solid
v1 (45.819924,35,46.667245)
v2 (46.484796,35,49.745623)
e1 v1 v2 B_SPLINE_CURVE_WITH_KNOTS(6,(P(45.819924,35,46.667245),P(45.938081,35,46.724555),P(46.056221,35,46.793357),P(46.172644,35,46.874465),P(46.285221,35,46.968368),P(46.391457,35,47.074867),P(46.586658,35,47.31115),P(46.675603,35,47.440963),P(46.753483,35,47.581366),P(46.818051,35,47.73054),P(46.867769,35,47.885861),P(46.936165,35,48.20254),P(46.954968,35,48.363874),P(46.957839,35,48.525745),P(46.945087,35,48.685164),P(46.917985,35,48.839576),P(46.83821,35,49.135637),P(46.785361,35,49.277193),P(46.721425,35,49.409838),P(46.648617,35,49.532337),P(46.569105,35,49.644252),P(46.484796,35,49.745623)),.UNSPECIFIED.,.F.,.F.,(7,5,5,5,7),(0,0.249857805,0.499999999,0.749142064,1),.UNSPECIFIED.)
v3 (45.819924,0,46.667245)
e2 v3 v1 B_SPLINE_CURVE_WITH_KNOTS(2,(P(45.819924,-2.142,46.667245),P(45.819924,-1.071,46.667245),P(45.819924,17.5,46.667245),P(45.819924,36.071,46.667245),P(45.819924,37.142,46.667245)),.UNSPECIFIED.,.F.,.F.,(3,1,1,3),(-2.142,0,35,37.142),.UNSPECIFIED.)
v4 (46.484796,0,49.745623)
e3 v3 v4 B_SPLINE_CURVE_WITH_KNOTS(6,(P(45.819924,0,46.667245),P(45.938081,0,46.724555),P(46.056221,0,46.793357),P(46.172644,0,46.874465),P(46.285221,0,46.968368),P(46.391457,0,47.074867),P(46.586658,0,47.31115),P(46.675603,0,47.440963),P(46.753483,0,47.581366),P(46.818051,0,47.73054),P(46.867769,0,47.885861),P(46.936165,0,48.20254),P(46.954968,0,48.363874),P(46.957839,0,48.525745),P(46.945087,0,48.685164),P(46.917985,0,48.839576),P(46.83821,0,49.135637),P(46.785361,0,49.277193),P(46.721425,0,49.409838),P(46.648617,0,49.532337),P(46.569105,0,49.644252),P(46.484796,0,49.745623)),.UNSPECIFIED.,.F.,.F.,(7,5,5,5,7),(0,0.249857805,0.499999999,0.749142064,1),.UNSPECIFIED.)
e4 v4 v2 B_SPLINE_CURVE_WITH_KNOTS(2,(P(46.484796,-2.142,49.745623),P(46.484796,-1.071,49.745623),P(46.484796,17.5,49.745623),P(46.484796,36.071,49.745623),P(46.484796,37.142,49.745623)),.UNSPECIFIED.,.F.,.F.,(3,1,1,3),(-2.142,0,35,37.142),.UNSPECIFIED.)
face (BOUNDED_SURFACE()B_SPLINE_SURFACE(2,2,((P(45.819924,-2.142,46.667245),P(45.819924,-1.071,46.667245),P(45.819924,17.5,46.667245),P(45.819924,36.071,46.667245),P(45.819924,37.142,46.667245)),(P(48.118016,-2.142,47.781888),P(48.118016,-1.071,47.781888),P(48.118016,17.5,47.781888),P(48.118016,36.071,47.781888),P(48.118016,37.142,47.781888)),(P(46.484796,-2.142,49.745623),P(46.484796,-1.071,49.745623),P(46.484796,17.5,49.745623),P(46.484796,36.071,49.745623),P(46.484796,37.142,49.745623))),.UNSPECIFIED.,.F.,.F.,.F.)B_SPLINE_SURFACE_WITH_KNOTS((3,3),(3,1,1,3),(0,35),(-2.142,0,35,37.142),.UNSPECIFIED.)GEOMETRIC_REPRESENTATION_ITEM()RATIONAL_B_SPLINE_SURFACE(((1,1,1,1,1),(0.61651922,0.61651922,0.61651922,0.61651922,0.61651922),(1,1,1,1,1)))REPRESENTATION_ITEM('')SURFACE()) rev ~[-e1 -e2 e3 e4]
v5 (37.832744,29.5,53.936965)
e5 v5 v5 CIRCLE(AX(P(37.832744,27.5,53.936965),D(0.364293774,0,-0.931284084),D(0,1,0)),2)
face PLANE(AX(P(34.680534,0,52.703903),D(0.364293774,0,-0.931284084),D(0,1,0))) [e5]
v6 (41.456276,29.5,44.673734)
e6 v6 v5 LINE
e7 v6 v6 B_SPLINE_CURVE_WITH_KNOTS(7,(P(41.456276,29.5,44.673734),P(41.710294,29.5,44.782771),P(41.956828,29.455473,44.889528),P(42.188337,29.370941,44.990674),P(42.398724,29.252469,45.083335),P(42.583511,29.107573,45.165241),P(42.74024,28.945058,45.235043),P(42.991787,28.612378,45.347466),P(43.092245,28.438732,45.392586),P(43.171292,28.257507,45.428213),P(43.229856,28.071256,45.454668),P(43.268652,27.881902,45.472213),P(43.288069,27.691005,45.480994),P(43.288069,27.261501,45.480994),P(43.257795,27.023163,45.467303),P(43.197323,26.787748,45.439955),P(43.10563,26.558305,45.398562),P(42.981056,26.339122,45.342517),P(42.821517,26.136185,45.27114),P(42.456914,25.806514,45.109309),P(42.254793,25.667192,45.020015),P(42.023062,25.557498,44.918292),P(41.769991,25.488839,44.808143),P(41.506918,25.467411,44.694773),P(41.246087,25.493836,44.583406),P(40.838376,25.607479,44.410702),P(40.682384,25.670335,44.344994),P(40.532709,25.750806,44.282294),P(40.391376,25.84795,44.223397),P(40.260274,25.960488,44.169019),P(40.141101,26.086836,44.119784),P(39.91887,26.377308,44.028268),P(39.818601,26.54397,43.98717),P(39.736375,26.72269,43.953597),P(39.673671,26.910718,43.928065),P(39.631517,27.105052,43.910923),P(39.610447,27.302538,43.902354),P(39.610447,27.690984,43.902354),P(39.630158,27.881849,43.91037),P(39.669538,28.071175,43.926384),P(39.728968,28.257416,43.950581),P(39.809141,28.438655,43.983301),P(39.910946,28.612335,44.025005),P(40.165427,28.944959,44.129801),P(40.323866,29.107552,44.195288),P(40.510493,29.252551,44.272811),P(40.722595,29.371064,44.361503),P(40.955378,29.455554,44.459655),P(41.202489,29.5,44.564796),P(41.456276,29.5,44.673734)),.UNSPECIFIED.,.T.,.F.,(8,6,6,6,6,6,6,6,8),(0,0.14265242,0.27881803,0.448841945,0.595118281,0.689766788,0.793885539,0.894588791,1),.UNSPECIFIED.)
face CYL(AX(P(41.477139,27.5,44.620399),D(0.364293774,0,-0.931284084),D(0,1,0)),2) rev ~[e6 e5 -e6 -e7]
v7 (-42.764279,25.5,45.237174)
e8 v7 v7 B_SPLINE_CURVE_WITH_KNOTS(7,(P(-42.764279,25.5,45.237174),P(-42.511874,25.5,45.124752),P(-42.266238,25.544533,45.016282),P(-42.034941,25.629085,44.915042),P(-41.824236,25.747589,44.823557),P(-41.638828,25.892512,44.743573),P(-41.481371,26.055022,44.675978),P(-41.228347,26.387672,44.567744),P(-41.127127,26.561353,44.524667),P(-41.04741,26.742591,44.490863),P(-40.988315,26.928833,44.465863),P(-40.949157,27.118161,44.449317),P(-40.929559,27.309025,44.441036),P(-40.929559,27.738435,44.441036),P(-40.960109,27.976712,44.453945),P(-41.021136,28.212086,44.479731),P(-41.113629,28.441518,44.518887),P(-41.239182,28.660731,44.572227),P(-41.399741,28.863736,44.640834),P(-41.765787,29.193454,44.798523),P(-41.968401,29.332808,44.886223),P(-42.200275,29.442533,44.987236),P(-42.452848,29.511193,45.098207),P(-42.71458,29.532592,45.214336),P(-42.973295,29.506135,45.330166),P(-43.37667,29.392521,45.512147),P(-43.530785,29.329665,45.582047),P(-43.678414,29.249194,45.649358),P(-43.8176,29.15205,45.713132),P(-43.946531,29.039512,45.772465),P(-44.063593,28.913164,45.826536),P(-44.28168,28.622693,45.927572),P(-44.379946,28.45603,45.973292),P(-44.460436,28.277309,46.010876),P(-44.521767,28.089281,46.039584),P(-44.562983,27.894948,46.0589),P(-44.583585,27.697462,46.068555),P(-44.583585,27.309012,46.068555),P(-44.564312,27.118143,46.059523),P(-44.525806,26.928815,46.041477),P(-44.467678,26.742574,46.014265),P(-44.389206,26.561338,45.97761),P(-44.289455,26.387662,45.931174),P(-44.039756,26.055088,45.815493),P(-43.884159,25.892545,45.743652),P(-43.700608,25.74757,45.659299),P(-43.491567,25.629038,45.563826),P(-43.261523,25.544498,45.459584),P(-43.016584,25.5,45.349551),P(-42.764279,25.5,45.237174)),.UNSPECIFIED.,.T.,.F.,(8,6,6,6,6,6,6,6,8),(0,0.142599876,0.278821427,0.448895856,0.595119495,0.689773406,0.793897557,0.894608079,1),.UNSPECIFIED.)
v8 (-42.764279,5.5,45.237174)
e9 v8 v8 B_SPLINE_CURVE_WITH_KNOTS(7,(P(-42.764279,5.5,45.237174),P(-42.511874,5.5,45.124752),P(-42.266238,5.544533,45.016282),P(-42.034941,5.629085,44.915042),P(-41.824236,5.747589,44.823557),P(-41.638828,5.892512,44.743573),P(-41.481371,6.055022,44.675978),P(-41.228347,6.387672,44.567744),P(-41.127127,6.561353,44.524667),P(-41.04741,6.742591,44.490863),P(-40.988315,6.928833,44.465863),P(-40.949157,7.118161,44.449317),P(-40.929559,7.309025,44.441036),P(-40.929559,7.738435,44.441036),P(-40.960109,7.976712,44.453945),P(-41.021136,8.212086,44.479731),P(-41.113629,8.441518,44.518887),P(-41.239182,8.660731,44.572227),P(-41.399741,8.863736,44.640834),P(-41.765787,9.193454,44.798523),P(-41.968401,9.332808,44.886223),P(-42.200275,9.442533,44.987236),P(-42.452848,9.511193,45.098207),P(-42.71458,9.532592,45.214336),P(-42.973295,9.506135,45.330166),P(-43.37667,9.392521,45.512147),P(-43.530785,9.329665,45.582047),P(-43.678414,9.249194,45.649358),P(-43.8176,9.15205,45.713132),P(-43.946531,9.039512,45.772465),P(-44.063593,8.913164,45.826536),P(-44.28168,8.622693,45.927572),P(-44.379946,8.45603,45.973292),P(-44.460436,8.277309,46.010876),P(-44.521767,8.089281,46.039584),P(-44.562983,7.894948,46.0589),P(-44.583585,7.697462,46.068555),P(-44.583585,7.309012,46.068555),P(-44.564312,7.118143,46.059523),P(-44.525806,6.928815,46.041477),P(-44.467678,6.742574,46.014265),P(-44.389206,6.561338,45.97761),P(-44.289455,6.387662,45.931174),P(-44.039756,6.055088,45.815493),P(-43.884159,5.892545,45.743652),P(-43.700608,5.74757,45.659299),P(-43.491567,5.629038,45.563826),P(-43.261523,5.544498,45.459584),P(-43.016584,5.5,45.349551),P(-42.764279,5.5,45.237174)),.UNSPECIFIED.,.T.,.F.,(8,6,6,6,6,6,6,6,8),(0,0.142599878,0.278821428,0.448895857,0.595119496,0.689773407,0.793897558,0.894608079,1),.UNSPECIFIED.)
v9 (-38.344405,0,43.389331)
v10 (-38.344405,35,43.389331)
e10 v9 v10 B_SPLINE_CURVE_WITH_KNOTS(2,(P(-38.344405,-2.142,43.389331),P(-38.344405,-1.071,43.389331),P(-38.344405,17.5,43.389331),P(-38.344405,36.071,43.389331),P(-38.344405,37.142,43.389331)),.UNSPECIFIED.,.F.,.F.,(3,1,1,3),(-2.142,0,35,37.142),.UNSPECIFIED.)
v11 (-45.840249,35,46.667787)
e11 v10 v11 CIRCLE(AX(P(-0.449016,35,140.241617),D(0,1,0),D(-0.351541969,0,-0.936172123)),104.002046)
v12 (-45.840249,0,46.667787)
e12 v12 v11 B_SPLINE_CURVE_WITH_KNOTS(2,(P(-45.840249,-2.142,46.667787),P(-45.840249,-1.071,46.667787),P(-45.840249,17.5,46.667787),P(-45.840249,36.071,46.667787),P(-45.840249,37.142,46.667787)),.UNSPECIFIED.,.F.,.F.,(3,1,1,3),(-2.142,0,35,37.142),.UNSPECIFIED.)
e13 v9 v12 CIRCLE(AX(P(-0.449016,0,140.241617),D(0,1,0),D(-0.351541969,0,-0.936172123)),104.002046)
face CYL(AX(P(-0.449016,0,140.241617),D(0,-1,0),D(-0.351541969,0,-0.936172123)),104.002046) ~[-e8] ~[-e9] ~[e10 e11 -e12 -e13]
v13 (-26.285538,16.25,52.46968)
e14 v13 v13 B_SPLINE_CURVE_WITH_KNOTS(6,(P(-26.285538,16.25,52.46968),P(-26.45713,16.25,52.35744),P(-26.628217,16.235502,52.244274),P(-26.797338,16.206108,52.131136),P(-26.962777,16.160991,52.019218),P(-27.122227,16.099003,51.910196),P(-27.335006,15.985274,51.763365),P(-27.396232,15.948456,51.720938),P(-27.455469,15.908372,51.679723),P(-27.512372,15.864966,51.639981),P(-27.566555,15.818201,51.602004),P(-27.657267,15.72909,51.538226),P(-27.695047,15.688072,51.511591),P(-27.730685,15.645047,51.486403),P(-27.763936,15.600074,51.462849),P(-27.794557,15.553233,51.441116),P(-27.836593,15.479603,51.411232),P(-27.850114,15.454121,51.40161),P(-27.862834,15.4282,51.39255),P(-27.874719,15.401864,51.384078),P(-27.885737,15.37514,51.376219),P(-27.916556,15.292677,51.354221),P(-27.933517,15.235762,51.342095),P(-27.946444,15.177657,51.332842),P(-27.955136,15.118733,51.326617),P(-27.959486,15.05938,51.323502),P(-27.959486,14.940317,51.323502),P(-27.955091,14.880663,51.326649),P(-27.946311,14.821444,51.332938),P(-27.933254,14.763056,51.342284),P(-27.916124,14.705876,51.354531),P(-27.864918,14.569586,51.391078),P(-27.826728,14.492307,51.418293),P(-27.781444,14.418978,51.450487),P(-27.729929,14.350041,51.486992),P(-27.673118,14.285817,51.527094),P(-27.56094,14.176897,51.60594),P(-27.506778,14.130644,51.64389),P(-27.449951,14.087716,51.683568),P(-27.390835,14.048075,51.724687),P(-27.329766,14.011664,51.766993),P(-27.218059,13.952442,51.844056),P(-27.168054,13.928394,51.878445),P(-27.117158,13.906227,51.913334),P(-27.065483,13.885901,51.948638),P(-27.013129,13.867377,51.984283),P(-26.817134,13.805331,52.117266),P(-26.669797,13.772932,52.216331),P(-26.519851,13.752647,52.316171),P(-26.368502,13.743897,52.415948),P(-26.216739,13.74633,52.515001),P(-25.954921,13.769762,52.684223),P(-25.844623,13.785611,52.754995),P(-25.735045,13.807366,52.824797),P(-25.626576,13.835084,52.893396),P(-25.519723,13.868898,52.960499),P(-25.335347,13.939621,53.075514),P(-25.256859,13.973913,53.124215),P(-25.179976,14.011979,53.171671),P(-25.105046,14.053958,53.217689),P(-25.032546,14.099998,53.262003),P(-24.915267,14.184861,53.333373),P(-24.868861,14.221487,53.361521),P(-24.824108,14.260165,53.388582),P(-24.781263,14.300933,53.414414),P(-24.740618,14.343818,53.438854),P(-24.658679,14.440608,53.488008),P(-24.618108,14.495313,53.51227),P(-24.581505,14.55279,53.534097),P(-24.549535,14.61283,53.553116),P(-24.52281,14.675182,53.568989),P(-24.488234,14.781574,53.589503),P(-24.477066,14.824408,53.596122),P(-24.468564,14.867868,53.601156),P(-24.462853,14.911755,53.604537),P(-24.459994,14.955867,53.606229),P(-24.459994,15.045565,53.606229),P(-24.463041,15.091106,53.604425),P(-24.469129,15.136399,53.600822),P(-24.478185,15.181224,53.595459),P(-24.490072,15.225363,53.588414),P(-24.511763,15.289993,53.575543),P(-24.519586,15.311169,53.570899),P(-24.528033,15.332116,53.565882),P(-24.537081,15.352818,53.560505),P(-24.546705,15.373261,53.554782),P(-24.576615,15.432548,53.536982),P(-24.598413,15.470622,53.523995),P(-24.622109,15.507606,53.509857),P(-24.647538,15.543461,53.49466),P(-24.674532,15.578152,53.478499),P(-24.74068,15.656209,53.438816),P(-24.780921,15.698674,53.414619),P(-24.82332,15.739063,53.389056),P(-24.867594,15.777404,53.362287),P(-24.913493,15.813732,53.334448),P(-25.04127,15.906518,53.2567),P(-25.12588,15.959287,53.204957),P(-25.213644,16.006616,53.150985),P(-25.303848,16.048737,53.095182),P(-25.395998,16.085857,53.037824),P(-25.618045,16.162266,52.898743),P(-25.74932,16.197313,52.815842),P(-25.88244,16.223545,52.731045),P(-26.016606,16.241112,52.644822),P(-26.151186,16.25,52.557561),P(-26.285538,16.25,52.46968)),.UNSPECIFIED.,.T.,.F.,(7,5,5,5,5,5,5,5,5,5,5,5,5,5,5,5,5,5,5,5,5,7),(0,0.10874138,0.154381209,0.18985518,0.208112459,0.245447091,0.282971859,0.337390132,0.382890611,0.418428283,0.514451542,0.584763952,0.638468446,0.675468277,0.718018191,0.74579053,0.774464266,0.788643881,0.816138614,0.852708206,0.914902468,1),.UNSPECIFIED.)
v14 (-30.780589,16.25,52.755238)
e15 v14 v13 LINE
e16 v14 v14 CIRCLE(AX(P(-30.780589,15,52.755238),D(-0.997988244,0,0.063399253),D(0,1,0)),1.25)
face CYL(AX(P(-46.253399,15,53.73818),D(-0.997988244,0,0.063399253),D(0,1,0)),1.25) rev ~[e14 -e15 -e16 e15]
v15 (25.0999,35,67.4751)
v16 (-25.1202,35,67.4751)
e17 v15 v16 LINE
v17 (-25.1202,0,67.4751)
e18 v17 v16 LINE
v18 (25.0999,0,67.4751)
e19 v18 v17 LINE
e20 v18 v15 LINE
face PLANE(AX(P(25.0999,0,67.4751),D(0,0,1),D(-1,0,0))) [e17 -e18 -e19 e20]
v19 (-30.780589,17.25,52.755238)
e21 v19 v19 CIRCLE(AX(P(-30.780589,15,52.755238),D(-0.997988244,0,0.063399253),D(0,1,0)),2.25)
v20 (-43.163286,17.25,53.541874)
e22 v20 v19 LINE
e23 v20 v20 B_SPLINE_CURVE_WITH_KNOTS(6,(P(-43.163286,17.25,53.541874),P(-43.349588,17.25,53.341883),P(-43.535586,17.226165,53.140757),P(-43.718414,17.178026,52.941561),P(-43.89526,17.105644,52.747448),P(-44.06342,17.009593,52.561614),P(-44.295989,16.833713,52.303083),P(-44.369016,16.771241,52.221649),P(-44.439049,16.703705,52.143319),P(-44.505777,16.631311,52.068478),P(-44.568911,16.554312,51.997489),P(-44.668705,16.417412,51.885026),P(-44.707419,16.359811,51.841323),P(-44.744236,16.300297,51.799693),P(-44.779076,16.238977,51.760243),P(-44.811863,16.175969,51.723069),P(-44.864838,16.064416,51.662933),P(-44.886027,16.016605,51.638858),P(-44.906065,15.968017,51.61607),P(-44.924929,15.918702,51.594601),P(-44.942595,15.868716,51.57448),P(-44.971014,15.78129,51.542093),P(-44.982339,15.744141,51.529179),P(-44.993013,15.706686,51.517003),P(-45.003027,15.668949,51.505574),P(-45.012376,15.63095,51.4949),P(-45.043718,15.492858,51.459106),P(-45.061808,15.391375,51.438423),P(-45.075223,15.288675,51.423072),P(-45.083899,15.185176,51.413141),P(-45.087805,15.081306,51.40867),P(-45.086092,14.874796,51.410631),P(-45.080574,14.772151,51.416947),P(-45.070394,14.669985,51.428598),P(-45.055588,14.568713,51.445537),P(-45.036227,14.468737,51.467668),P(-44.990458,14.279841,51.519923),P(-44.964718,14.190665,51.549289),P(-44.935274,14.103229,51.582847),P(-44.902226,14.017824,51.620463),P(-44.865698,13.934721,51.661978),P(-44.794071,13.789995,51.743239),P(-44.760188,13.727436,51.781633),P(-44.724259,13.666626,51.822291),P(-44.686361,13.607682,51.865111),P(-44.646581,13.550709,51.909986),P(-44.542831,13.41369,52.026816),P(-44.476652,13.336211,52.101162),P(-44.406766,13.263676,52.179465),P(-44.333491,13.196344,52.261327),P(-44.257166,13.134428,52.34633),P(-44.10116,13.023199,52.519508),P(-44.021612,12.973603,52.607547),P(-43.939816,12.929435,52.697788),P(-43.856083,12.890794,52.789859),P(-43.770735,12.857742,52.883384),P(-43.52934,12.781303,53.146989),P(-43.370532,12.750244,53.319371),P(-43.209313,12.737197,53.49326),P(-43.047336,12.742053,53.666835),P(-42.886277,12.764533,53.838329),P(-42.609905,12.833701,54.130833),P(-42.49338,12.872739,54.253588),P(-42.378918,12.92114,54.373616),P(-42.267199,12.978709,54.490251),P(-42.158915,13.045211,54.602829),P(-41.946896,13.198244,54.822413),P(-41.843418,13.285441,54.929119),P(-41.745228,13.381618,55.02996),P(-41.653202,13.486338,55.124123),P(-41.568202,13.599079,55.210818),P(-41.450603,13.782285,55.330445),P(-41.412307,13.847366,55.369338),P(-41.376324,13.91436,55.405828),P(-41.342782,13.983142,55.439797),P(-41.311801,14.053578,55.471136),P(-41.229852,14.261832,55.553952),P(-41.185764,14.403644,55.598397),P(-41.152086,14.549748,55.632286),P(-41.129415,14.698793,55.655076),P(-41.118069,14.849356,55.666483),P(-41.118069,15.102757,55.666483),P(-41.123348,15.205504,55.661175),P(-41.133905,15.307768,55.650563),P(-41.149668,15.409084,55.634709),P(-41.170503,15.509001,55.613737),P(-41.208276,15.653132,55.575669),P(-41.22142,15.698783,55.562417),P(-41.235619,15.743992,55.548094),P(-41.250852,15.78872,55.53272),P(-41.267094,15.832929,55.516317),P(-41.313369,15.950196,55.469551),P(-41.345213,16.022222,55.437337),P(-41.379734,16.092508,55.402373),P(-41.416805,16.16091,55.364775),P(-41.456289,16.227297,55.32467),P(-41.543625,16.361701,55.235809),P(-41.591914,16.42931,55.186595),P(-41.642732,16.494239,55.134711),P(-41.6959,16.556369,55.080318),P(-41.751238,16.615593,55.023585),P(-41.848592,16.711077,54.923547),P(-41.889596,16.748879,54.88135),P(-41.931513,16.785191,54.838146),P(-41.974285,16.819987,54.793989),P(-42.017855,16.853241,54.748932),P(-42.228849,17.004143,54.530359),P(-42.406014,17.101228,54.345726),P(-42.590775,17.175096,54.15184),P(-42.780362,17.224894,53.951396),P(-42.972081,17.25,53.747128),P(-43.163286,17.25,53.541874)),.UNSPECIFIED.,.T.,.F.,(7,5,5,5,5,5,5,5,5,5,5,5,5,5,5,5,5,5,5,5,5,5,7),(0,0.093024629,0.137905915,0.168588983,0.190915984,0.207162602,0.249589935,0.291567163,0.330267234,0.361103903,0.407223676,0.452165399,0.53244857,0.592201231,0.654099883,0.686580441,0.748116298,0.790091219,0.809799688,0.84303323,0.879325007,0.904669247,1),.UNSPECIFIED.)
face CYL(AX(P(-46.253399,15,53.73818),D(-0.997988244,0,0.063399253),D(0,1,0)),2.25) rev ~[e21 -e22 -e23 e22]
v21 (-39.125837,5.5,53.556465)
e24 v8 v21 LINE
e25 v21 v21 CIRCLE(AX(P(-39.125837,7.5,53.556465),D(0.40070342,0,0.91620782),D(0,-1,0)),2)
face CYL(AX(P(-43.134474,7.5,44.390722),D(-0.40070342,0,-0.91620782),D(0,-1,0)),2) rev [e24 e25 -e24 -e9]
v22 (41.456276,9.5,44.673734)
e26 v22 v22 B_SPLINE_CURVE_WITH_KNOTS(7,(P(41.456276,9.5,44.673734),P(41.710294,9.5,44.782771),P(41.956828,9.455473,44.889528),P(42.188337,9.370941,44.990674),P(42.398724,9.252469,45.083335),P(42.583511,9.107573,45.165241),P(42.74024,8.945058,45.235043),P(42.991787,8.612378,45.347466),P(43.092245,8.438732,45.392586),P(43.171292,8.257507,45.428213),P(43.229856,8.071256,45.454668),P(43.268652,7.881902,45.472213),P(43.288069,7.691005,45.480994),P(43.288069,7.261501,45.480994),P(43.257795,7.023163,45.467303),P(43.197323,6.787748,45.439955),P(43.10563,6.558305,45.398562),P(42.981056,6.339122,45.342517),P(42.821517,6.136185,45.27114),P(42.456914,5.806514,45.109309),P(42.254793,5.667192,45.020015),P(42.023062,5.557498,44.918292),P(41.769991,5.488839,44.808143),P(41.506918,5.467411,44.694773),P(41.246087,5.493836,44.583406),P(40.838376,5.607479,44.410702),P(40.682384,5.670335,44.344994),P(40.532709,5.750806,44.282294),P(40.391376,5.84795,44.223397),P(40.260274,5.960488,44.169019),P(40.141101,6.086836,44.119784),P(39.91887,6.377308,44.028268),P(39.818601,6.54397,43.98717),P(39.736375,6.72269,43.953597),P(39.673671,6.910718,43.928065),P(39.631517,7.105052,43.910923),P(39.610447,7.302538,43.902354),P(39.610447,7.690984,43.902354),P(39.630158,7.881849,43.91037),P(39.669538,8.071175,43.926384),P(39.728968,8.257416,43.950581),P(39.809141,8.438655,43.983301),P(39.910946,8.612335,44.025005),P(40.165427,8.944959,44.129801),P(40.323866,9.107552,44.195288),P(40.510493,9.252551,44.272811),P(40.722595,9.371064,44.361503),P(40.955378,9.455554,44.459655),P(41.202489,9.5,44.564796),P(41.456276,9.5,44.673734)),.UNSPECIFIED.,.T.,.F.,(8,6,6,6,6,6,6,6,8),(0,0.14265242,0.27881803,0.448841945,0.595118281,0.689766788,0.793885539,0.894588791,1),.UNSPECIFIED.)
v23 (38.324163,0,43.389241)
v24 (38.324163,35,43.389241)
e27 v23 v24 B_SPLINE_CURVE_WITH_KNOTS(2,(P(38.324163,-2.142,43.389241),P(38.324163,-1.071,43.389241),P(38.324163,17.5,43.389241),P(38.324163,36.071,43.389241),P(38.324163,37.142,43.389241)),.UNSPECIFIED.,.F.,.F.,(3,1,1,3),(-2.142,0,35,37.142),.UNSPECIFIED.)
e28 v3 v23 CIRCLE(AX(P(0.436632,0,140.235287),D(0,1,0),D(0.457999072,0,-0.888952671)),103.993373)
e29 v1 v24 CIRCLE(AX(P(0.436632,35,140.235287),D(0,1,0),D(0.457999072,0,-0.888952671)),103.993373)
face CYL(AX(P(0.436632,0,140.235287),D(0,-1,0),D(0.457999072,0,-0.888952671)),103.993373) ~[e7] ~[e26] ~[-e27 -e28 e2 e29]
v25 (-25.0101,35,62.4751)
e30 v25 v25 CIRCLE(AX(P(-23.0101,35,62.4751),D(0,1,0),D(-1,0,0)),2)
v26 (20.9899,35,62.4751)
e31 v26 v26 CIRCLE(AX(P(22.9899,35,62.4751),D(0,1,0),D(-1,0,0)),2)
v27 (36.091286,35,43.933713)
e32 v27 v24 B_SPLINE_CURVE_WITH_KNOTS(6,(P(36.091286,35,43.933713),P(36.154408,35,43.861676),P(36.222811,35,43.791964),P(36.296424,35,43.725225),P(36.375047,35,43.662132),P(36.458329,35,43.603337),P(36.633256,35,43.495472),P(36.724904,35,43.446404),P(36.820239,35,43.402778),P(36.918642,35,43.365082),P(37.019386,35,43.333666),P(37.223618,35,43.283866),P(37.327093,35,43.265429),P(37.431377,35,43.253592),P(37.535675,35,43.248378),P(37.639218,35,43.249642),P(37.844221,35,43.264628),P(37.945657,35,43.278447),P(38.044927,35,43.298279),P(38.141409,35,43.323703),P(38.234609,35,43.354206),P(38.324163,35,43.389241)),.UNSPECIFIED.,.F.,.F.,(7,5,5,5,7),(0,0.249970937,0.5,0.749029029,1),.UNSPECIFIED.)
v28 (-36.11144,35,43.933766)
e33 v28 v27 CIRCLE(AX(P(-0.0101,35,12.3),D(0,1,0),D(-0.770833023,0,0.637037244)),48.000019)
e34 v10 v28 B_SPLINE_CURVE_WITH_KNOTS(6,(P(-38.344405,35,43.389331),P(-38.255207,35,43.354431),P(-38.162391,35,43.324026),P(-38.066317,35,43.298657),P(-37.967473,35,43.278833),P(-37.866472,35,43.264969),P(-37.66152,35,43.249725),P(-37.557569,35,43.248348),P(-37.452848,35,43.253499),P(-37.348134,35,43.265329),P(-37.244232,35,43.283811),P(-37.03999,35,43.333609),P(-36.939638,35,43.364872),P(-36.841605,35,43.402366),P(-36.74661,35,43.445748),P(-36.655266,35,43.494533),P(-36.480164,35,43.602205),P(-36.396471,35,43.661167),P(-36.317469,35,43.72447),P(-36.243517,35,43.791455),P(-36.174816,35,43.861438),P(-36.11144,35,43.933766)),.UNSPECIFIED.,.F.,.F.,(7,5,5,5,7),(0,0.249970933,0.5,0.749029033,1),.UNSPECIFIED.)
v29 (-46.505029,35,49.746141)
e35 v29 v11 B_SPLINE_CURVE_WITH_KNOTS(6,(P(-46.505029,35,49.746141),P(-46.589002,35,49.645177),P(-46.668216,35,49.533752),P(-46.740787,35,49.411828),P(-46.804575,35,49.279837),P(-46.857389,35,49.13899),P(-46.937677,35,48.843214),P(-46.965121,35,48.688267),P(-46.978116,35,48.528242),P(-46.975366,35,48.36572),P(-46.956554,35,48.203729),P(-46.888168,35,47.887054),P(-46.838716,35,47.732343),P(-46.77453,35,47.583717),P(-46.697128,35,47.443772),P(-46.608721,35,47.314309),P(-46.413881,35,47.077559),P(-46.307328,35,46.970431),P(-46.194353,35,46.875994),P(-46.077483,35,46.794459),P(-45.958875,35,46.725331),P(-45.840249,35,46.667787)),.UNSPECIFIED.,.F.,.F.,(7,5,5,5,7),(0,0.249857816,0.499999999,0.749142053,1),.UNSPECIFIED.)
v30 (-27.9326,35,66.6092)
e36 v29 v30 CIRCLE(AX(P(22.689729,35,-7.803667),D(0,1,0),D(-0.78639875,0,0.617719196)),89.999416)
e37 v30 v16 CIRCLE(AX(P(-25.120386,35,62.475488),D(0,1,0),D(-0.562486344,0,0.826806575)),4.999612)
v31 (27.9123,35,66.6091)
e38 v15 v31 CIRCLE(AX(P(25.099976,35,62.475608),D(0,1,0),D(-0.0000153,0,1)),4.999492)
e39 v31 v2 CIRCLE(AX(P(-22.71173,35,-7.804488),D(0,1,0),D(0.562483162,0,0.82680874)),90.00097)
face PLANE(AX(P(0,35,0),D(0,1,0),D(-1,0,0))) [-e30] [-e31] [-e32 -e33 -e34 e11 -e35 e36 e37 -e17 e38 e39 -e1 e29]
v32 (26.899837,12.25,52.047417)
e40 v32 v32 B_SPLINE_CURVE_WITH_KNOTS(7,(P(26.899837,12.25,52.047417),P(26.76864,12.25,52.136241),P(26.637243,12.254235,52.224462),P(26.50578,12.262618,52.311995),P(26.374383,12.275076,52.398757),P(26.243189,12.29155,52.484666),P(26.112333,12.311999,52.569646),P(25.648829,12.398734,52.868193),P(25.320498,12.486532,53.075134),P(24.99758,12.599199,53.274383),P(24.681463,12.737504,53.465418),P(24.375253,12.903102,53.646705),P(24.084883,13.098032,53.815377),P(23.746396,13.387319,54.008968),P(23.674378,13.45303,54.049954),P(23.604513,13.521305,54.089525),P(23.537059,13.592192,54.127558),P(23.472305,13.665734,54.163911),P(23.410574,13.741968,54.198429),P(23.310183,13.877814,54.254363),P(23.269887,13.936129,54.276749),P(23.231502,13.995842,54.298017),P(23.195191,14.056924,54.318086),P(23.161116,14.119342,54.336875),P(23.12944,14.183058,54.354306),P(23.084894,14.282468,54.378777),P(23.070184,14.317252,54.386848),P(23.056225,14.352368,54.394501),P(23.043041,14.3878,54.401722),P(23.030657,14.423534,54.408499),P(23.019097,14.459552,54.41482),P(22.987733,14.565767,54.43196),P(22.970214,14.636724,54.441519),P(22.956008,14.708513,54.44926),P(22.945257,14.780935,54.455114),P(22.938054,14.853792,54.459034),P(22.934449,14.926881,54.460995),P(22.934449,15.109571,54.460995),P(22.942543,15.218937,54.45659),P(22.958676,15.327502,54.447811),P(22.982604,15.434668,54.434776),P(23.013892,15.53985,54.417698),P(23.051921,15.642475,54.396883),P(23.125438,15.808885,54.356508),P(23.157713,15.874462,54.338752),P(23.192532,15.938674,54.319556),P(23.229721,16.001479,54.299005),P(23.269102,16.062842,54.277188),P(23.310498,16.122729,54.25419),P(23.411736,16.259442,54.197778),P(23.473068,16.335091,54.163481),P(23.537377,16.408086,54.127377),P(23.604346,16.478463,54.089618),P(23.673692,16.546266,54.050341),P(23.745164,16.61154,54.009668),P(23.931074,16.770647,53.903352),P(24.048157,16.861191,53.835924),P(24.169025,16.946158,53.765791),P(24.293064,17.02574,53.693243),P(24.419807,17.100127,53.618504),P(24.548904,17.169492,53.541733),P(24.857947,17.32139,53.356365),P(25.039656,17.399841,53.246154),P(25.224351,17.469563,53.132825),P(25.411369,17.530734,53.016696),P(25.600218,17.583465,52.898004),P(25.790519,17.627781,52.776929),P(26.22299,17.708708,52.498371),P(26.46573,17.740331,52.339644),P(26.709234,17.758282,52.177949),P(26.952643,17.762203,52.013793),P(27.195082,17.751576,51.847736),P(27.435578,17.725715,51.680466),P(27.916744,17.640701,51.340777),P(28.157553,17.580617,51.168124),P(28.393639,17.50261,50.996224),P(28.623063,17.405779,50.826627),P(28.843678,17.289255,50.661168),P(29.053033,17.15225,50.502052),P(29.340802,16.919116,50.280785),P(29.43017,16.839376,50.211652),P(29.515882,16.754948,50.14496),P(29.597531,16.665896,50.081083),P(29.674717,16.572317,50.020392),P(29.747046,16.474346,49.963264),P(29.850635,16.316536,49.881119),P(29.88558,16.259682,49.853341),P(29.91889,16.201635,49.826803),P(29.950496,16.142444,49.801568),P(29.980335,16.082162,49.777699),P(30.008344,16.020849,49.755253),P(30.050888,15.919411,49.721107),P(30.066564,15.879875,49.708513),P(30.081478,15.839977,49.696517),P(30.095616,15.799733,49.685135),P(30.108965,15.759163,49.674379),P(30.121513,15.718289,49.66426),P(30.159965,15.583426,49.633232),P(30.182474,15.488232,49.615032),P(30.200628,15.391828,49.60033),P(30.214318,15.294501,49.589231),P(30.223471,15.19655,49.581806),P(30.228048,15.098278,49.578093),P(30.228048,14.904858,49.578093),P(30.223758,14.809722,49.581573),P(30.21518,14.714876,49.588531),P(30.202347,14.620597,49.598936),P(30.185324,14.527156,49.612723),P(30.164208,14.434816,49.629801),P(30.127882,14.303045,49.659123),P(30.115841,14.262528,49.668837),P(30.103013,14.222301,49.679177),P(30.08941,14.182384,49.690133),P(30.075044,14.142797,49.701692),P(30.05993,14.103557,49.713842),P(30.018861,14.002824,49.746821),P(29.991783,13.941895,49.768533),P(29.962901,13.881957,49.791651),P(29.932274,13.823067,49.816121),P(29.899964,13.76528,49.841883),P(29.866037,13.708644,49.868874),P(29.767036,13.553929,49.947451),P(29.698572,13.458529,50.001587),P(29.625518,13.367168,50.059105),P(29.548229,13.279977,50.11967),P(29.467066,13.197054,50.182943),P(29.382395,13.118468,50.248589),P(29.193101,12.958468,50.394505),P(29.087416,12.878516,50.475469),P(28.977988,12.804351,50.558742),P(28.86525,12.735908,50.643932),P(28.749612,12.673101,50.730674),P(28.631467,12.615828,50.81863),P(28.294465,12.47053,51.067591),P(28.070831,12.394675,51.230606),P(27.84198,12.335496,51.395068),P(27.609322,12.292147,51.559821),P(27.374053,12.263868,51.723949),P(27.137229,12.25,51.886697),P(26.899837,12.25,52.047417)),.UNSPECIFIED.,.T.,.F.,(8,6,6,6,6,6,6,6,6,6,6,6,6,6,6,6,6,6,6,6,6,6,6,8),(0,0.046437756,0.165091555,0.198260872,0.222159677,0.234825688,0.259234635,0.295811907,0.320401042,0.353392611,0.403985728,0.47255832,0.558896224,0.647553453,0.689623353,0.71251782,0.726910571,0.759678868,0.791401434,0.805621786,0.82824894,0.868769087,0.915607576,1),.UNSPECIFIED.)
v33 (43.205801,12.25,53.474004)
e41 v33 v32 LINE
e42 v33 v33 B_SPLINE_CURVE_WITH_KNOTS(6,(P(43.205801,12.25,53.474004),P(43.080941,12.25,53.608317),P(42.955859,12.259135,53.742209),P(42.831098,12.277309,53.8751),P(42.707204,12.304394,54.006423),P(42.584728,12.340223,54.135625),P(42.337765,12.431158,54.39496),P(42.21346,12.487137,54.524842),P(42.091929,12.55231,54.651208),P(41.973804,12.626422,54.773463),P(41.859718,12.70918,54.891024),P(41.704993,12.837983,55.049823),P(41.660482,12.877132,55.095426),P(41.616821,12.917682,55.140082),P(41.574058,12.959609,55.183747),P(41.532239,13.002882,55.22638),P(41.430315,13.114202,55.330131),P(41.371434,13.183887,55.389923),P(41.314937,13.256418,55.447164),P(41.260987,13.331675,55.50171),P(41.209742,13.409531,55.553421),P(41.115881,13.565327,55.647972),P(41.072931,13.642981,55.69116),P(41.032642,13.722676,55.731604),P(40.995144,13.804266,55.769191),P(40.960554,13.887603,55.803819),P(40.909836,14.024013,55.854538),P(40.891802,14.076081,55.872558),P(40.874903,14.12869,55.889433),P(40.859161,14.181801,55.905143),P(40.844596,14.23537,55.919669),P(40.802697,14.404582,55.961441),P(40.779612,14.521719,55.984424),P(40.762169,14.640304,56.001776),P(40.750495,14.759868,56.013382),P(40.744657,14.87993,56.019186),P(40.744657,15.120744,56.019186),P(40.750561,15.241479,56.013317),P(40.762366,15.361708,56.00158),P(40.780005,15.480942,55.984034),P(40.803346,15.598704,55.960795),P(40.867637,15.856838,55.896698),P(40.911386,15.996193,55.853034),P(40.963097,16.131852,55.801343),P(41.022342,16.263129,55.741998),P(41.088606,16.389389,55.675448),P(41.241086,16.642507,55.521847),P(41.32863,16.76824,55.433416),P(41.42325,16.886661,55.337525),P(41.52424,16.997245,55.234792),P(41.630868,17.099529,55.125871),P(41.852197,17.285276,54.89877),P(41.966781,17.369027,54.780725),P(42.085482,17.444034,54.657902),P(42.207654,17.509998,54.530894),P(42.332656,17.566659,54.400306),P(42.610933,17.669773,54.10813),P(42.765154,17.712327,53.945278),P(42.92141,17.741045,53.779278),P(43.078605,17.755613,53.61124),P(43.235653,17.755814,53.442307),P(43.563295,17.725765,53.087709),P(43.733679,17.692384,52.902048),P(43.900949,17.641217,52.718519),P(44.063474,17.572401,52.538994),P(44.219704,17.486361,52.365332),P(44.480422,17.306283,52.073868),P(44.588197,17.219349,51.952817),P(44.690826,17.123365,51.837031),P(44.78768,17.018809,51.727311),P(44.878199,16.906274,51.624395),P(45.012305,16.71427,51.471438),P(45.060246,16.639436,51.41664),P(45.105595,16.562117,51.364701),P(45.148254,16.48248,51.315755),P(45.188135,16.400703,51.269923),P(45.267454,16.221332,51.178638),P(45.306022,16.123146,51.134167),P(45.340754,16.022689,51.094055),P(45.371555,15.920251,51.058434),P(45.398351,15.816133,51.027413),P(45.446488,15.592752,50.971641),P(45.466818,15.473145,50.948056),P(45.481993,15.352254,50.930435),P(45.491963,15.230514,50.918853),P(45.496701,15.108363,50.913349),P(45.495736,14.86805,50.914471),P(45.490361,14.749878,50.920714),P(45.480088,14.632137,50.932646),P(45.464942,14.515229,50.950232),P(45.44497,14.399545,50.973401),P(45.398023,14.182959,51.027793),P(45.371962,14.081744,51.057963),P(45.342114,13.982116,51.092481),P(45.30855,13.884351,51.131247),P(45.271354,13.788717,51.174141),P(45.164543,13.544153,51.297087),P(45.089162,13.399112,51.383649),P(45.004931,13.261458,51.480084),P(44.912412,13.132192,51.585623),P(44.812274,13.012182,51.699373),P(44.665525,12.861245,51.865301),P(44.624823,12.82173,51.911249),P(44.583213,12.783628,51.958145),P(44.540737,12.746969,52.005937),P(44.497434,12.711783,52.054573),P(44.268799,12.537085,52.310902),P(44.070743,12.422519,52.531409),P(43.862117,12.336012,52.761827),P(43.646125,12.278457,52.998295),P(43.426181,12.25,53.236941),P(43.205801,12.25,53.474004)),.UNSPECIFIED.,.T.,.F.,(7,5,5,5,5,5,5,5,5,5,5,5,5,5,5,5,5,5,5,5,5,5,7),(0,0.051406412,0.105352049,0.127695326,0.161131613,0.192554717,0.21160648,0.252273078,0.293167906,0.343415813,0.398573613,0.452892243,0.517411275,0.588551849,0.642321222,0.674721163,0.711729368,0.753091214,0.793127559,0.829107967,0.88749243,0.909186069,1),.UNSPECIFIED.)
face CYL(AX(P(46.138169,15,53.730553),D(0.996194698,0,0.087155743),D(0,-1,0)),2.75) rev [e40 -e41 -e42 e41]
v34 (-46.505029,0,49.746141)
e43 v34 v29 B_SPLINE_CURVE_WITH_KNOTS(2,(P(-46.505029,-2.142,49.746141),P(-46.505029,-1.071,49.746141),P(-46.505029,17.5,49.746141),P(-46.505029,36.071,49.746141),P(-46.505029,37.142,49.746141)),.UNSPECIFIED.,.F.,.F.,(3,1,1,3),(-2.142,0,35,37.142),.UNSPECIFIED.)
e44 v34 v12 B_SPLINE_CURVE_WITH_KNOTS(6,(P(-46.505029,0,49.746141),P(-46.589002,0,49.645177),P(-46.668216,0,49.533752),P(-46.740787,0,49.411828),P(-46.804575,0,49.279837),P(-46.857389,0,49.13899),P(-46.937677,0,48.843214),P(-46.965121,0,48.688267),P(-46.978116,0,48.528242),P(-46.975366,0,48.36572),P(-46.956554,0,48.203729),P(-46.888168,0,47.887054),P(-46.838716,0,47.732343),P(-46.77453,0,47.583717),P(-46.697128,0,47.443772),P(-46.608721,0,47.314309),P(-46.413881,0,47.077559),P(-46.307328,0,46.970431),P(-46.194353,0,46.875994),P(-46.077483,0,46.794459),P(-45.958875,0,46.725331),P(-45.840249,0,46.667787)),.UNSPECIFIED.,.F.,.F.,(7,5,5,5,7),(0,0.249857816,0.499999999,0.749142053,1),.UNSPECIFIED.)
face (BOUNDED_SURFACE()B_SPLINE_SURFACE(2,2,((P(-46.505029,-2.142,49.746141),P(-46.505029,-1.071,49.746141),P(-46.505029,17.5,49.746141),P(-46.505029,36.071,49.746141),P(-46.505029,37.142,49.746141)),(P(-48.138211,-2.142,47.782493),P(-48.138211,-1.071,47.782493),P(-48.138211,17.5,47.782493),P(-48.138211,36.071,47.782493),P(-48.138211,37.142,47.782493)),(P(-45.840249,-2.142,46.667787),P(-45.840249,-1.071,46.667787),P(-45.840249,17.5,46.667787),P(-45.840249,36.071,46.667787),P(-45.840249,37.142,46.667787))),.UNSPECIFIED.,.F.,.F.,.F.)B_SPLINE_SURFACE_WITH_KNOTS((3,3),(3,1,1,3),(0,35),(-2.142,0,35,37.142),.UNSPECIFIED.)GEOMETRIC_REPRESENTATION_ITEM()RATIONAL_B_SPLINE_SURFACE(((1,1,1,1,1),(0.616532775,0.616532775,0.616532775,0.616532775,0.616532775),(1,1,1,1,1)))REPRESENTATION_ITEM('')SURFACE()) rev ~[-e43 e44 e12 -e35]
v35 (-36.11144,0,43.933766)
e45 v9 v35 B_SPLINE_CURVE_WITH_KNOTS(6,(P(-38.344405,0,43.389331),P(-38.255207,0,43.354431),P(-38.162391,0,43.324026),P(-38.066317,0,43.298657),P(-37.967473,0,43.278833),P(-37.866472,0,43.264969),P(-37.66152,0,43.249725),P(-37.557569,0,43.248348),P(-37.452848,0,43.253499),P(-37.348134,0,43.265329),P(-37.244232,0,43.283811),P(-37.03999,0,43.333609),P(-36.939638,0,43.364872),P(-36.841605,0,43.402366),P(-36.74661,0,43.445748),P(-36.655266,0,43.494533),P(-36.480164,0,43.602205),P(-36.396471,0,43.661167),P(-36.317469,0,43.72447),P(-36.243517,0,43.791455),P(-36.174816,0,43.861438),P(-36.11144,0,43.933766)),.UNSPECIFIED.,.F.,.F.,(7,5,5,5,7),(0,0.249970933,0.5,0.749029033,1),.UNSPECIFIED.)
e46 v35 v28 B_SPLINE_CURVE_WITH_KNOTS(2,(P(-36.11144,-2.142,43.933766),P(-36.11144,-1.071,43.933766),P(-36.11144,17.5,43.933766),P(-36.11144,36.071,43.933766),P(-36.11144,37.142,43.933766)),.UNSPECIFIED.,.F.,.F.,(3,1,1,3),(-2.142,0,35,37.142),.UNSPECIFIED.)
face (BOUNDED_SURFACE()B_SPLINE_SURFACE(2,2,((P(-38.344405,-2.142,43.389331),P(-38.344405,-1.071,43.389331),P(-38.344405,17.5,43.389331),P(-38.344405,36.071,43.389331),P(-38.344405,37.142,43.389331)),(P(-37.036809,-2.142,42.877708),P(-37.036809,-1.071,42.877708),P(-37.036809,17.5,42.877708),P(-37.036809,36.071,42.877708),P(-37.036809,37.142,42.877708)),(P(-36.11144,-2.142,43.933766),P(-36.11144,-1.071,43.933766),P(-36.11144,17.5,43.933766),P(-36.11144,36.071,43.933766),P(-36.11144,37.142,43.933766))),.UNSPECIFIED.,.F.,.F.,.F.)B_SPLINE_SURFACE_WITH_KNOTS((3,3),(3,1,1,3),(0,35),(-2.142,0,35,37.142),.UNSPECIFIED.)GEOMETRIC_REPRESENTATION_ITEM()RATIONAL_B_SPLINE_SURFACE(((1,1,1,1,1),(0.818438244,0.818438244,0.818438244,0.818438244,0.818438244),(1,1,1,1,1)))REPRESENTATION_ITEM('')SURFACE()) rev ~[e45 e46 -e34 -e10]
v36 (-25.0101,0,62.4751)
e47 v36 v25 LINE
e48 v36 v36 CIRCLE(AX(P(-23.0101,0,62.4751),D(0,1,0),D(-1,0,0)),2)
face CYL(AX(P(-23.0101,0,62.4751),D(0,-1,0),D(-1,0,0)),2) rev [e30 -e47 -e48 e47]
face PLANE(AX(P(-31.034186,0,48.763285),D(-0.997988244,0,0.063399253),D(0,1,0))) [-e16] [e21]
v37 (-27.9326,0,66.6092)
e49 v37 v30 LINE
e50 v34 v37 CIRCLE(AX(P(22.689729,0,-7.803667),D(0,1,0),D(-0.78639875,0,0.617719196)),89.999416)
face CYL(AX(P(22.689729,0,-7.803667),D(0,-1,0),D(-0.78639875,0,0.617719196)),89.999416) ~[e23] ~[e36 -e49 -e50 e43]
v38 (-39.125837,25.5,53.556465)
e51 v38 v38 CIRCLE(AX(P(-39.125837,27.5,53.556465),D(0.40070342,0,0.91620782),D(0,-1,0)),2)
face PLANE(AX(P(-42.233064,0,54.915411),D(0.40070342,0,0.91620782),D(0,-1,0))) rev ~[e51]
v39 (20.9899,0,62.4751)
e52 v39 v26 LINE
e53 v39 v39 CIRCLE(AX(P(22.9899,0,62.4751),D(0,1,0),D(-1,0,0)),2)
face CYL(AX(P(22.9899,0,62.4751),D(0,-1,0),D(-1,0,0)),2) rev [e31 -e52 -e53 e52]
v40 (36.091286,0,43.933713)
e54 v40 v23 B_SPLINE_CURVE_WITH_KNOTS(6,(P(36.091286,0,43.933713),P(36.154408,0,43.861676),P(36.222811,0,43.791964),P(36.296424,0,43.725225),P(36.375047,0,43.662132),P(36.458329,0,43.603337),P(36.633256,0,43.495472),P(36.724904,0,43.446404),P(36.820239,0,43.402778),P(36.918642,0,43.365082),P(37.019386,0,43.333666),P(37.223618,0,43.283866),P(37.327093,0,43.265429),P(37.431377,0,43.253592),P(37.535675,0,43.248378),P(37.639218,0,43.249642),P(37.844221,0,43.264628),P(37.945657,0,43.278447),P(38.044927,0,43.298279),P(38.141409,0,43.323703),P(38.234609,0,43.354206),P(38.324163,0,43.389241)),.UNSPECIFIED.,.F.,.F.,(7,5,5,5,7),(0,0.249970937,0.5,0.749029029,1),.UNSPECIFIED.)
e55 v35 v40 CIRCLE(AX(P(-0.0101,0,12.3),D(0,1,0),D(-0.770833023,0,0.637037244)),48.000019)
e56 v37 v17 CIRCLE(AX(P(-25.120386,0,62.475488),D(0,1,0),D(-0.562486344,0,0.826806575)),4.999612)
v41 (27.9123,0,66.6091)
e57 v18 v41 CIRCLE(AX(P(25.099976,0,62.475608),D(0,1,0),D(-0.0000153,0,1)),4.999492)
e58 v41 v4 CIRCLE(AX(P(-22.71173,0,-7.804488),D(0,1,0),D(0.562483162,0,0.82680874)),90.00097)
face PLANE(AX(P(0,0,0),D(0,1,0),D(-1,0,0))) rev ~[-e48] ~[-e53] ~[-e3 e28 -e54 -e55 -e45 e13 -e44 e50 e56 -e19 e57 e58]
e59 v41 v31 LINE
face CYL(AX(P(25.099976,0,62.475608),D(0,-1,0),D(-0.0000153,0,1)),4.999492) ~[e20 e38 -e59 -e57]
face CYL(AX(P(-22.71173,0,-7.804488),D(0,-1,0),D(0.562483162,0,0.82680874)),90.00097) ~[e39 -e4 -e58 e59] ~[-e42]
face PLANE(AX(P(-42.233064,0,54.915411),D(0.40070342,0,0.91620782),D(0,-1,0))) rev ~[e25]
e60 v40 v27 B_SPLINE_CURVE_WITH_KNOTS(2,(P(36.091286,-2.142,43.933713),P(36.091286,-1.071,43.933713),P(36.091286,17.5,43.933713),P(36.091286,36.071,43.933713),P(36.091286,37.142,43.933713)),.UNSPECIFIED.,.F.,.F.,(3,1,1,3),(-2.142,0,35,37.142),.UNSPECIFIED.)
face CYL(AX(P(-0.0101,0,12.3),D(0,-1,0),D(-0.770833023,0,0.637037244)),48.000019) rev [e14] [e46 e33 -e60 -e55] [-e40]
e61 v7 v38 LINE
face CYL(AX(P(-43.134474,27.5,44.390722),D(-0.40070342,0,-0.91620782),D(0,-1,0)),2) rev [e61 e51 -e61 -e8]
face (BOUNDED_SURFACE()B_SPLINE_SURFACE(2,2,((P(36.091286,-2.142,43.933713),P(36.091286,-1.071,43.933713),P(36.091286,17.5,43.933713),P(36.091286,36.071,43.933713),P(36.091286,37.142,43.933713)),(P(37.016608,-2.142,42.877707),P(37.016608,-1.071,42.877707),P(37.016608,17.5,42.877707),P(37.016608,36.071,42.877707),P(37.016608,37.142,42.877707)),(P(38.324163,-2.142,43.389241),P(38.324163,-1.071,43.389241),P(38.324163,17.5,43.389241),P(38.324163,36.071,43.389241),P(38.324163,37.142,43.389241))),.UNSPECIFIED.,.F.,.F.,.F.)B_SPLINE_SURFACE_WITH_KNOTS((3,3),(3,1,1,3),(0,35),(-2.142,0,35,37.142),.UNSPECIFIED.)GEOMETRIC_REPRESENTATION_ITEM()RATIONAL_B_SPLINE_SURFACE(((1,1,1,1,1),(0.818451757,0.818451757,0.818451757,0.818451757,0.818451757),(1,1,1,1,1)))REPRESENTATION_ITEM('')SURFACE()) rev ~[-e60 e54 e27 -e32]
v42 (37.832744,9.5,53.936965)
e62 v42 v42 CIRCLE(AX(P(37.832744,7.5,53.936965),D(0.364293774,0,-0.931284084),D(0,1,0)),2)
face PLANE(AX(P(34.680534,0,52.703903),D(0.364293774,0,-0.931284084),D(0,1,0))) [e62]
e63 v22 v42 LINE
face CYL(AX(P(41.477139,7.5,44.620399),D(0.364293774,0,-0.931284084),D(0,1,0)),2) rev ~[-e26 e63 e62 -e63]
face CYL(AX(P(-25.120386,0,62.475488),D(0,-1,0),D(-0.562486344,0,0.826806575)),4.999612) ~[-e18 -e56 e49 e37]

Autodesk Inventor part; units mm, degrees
sketch "Эскиз1" plane through (0, 0, 0) normal (0, 1, 0) x (-1, 0, 0)
  line L0 (-25.0999, 67.4751) -> (25.1202, 67.4751)
  arc A0 (37.0101, 42.8778) -> (-36.9899, 42.8778) centre (0.0101, 12.3) ccw
  arc A1 (36.6633, -21.4663) -> (-36.0003, -21.4663) centre (0.3315, -28.4663) ccw
  line L1 (36.6633, -21.4663) -> (-36.0003, -21.4663)
  circle A2 centre (23.0101, 62.4751) radius 2
  arc A3 (37.0101, 42.8778) -> (48.0857, 47.7907) centre (0.4498, 140.2397) ccw
  circle A4 centre (-22.9899, 62.4751) radius 2
  arc A5 (-48.0655, 47.7901) -> (-36.9899, 42.8778) centre (-0.4338, 140.2412) ccw
  arc A6 (-27.9123, 66.6091) -> (-48.0655, 47.7901) centre (22.7111, -7.8037) ccw
  arc A7 (48.0857, 47.7907) -> (27.9326, 66.6092) centre (-22.6902, -7.8041) ccw
  arc A8 (27.9326, 66.6092) -> (25.1202, 67.4751) centre (25.1202, 62.4751) ccw
  arc A9 (-25.0999, 67.4751) -> (-27.9123, 66.6091) centre (-25.0999, 62.4751) ccw
  line L2 (37.0101, 42.8778) -> (-36.9899, 42.8778)
  point P0 (0, 0)
  point P1 (0, 0)
  point P2 (-26.6154, 67.4751)
  point P3 (0.0101, 60.3)
  point P4 (0.0102, 67.4751)
  point P5 (0, 0)
  point P6 (26.6357, 67.4751)
  point P7 (-26.5712, 67.2537)
  point P8 (26.5916, 67.2537)
  dimension "d0" = 72.6636
  dimension "d1" = 37
  dimension "d2" = 11.0756
  dimension "d3" = 7.1751
  dimension "d4" = 5
  dimension "d5" = 5
  dimension "d6" = 90
  dimension "d7" = 90
  dimension "d8" = 5
  dimension "d95" = 23
  dimension "d96" = 23
  dimension "d97" = 48
  dimension "d98" = 11.0756
  dimension "d105" = 74
  dimension "d107" = 4
  dimension "d108" = 4
extrude "Выдавливание1" add sketch "Эскиз1" along normal blind 35 contours L0 A8 A7 A3 A0 A5 A6 A9
fillet "Сопряжение2" radius 2 4 edges at (48.0655, 17.5, 47.7901) (36.9899, 17.5, 42.8778) (-37.0101, 17.5, 42.8778) (-48.0857, 17.5, 47.7907)
ref_plane "РабПлоскость4" through (38.3242, 0, 43.3892) normal (0.3643, 0, -0.9313) x (0, 1, 0)
sketch "Эскиз9" plane through (38.3242, 0, 43.3892) normal (0.3643, 0, -0.9313) x (0, 1, 0)
  circle A0 centre (27.5, 3.3848) radius 2
  circle A1 centre (7.5, 3.3848) radius 2
  line L0 (35, 0) -> (35, 8.1748) projected
  line L1 (0, 8.1748) -> (35, 8.1748) projected
  point P0 (0, -51.4982)
  dimension "d49" = 4
  dimension "d50" = 4
  dimension "d51" = 20
  dimension "d52" = 7.5
  dimension "d53" = 4.79
  dimension "d54" = 4.79
extrude "Выдавливание6" cut sketch "Эскиз9" against normal blind 10
ref_plane "РабПлоскость9" through (-46.2409, 0, 45.7515) normal (0.4007, 0, 0.9162) x (0, -1, 0)
ref_plane "РабПлоскость8" through (-45.8402, 0, 46.6678) normal (0.4007, 0, 0.9162) x (0, -1, 0)
sketch "Эскиз12" plane through (-46.2409, 0, 45.7515) normal (0.4007, 0, 0.9162) x (0, -1, 0)
  circle A0 centre (-27.5, 3.3914) radius 2
  circle A1 centre (-7.5, 3.3914) radius 2
  line L0 (0, 8.1814) -> (-35, 8.1814) projected
  line L1 (-35, 8.1814) -> (-35, 0) projected
  point P0 (0, 60.6995)
  dimension "d66" = 4
  dimension "d67" = 4
  dimension "d68" = 20
  dimension "d69" = 4.79
  dimension "d70" = 4.79
  dimension "d71" = 7.5
extrude "Выдавливание8" cut sketch "Эскиз12" along normal blind 10
ref_plane "РабПлоскость12" through (46.4848, 0, 49.7456) normal (-0.9962, 0, -0.0872) x (0, -1, 0)
sketch "Эскиз14" plane through (46.4848, 0, 49.7456) normal (-0.9962, 0, -0.0872) x (0, -1, 0)
  circle A0 centre (-15, 4) radius 2.75
  line L0 (0, 18.418) -> (0, 0) projected
  line L1 (-35, 0) -> (0, 0) projected
  point P0 (0, -45.5049)
  dimension "d78" = 5.5
  dimension "d79" = 15
  dimension "d80" = 4
extrude "Выдавливание9" cut sketch "Эскиз14" along normal blind 43.25
ref_plane "РабПлоскость13" through (-46.505, 0, 49.7461) normal (-0.998, 0, 0.0634) x (0, 1, 0)
sketch "Эскиз16" plane through (-46.505, 0, 49.7461) normal (-0.998, 0, 0.0634) x (0, 1, 0)
  circle A0 centre (15, -4) radius 2.25
  line L0 (0, -18.0062) -> (0, 0) projected
  line L1 (0, 0) -> (35, 0) projected
  point P0 (0, 46.6988)
  dimension "d85" = 4.5
  dimension "d86" = 15
  dimension "d87" = 4
extrude "Выдавливание10" cut sketch "Эскиз16" against normal blind 15.5
sketch "Эскиз17" plane through (-46.505, 0, 49.7461) normal (-0.998, 0, 0.0634) x (0, 1, 0)
  circle A0 centre (15, -4) radius 1.25
  line L0 (0, -18.0062) -> (0, 0) projected
  line L1 (0, 0) -> (35, 0) projected
  point P0 (0, 46.6988)
  dimension "d90" = 2.5
  dimension "d91" = 15
  dimension "d92" = 4
extrude "Выдавливание11" cut sketch "Эскиз17" against normal blind 31.25
properties part number "dribler_ball"
